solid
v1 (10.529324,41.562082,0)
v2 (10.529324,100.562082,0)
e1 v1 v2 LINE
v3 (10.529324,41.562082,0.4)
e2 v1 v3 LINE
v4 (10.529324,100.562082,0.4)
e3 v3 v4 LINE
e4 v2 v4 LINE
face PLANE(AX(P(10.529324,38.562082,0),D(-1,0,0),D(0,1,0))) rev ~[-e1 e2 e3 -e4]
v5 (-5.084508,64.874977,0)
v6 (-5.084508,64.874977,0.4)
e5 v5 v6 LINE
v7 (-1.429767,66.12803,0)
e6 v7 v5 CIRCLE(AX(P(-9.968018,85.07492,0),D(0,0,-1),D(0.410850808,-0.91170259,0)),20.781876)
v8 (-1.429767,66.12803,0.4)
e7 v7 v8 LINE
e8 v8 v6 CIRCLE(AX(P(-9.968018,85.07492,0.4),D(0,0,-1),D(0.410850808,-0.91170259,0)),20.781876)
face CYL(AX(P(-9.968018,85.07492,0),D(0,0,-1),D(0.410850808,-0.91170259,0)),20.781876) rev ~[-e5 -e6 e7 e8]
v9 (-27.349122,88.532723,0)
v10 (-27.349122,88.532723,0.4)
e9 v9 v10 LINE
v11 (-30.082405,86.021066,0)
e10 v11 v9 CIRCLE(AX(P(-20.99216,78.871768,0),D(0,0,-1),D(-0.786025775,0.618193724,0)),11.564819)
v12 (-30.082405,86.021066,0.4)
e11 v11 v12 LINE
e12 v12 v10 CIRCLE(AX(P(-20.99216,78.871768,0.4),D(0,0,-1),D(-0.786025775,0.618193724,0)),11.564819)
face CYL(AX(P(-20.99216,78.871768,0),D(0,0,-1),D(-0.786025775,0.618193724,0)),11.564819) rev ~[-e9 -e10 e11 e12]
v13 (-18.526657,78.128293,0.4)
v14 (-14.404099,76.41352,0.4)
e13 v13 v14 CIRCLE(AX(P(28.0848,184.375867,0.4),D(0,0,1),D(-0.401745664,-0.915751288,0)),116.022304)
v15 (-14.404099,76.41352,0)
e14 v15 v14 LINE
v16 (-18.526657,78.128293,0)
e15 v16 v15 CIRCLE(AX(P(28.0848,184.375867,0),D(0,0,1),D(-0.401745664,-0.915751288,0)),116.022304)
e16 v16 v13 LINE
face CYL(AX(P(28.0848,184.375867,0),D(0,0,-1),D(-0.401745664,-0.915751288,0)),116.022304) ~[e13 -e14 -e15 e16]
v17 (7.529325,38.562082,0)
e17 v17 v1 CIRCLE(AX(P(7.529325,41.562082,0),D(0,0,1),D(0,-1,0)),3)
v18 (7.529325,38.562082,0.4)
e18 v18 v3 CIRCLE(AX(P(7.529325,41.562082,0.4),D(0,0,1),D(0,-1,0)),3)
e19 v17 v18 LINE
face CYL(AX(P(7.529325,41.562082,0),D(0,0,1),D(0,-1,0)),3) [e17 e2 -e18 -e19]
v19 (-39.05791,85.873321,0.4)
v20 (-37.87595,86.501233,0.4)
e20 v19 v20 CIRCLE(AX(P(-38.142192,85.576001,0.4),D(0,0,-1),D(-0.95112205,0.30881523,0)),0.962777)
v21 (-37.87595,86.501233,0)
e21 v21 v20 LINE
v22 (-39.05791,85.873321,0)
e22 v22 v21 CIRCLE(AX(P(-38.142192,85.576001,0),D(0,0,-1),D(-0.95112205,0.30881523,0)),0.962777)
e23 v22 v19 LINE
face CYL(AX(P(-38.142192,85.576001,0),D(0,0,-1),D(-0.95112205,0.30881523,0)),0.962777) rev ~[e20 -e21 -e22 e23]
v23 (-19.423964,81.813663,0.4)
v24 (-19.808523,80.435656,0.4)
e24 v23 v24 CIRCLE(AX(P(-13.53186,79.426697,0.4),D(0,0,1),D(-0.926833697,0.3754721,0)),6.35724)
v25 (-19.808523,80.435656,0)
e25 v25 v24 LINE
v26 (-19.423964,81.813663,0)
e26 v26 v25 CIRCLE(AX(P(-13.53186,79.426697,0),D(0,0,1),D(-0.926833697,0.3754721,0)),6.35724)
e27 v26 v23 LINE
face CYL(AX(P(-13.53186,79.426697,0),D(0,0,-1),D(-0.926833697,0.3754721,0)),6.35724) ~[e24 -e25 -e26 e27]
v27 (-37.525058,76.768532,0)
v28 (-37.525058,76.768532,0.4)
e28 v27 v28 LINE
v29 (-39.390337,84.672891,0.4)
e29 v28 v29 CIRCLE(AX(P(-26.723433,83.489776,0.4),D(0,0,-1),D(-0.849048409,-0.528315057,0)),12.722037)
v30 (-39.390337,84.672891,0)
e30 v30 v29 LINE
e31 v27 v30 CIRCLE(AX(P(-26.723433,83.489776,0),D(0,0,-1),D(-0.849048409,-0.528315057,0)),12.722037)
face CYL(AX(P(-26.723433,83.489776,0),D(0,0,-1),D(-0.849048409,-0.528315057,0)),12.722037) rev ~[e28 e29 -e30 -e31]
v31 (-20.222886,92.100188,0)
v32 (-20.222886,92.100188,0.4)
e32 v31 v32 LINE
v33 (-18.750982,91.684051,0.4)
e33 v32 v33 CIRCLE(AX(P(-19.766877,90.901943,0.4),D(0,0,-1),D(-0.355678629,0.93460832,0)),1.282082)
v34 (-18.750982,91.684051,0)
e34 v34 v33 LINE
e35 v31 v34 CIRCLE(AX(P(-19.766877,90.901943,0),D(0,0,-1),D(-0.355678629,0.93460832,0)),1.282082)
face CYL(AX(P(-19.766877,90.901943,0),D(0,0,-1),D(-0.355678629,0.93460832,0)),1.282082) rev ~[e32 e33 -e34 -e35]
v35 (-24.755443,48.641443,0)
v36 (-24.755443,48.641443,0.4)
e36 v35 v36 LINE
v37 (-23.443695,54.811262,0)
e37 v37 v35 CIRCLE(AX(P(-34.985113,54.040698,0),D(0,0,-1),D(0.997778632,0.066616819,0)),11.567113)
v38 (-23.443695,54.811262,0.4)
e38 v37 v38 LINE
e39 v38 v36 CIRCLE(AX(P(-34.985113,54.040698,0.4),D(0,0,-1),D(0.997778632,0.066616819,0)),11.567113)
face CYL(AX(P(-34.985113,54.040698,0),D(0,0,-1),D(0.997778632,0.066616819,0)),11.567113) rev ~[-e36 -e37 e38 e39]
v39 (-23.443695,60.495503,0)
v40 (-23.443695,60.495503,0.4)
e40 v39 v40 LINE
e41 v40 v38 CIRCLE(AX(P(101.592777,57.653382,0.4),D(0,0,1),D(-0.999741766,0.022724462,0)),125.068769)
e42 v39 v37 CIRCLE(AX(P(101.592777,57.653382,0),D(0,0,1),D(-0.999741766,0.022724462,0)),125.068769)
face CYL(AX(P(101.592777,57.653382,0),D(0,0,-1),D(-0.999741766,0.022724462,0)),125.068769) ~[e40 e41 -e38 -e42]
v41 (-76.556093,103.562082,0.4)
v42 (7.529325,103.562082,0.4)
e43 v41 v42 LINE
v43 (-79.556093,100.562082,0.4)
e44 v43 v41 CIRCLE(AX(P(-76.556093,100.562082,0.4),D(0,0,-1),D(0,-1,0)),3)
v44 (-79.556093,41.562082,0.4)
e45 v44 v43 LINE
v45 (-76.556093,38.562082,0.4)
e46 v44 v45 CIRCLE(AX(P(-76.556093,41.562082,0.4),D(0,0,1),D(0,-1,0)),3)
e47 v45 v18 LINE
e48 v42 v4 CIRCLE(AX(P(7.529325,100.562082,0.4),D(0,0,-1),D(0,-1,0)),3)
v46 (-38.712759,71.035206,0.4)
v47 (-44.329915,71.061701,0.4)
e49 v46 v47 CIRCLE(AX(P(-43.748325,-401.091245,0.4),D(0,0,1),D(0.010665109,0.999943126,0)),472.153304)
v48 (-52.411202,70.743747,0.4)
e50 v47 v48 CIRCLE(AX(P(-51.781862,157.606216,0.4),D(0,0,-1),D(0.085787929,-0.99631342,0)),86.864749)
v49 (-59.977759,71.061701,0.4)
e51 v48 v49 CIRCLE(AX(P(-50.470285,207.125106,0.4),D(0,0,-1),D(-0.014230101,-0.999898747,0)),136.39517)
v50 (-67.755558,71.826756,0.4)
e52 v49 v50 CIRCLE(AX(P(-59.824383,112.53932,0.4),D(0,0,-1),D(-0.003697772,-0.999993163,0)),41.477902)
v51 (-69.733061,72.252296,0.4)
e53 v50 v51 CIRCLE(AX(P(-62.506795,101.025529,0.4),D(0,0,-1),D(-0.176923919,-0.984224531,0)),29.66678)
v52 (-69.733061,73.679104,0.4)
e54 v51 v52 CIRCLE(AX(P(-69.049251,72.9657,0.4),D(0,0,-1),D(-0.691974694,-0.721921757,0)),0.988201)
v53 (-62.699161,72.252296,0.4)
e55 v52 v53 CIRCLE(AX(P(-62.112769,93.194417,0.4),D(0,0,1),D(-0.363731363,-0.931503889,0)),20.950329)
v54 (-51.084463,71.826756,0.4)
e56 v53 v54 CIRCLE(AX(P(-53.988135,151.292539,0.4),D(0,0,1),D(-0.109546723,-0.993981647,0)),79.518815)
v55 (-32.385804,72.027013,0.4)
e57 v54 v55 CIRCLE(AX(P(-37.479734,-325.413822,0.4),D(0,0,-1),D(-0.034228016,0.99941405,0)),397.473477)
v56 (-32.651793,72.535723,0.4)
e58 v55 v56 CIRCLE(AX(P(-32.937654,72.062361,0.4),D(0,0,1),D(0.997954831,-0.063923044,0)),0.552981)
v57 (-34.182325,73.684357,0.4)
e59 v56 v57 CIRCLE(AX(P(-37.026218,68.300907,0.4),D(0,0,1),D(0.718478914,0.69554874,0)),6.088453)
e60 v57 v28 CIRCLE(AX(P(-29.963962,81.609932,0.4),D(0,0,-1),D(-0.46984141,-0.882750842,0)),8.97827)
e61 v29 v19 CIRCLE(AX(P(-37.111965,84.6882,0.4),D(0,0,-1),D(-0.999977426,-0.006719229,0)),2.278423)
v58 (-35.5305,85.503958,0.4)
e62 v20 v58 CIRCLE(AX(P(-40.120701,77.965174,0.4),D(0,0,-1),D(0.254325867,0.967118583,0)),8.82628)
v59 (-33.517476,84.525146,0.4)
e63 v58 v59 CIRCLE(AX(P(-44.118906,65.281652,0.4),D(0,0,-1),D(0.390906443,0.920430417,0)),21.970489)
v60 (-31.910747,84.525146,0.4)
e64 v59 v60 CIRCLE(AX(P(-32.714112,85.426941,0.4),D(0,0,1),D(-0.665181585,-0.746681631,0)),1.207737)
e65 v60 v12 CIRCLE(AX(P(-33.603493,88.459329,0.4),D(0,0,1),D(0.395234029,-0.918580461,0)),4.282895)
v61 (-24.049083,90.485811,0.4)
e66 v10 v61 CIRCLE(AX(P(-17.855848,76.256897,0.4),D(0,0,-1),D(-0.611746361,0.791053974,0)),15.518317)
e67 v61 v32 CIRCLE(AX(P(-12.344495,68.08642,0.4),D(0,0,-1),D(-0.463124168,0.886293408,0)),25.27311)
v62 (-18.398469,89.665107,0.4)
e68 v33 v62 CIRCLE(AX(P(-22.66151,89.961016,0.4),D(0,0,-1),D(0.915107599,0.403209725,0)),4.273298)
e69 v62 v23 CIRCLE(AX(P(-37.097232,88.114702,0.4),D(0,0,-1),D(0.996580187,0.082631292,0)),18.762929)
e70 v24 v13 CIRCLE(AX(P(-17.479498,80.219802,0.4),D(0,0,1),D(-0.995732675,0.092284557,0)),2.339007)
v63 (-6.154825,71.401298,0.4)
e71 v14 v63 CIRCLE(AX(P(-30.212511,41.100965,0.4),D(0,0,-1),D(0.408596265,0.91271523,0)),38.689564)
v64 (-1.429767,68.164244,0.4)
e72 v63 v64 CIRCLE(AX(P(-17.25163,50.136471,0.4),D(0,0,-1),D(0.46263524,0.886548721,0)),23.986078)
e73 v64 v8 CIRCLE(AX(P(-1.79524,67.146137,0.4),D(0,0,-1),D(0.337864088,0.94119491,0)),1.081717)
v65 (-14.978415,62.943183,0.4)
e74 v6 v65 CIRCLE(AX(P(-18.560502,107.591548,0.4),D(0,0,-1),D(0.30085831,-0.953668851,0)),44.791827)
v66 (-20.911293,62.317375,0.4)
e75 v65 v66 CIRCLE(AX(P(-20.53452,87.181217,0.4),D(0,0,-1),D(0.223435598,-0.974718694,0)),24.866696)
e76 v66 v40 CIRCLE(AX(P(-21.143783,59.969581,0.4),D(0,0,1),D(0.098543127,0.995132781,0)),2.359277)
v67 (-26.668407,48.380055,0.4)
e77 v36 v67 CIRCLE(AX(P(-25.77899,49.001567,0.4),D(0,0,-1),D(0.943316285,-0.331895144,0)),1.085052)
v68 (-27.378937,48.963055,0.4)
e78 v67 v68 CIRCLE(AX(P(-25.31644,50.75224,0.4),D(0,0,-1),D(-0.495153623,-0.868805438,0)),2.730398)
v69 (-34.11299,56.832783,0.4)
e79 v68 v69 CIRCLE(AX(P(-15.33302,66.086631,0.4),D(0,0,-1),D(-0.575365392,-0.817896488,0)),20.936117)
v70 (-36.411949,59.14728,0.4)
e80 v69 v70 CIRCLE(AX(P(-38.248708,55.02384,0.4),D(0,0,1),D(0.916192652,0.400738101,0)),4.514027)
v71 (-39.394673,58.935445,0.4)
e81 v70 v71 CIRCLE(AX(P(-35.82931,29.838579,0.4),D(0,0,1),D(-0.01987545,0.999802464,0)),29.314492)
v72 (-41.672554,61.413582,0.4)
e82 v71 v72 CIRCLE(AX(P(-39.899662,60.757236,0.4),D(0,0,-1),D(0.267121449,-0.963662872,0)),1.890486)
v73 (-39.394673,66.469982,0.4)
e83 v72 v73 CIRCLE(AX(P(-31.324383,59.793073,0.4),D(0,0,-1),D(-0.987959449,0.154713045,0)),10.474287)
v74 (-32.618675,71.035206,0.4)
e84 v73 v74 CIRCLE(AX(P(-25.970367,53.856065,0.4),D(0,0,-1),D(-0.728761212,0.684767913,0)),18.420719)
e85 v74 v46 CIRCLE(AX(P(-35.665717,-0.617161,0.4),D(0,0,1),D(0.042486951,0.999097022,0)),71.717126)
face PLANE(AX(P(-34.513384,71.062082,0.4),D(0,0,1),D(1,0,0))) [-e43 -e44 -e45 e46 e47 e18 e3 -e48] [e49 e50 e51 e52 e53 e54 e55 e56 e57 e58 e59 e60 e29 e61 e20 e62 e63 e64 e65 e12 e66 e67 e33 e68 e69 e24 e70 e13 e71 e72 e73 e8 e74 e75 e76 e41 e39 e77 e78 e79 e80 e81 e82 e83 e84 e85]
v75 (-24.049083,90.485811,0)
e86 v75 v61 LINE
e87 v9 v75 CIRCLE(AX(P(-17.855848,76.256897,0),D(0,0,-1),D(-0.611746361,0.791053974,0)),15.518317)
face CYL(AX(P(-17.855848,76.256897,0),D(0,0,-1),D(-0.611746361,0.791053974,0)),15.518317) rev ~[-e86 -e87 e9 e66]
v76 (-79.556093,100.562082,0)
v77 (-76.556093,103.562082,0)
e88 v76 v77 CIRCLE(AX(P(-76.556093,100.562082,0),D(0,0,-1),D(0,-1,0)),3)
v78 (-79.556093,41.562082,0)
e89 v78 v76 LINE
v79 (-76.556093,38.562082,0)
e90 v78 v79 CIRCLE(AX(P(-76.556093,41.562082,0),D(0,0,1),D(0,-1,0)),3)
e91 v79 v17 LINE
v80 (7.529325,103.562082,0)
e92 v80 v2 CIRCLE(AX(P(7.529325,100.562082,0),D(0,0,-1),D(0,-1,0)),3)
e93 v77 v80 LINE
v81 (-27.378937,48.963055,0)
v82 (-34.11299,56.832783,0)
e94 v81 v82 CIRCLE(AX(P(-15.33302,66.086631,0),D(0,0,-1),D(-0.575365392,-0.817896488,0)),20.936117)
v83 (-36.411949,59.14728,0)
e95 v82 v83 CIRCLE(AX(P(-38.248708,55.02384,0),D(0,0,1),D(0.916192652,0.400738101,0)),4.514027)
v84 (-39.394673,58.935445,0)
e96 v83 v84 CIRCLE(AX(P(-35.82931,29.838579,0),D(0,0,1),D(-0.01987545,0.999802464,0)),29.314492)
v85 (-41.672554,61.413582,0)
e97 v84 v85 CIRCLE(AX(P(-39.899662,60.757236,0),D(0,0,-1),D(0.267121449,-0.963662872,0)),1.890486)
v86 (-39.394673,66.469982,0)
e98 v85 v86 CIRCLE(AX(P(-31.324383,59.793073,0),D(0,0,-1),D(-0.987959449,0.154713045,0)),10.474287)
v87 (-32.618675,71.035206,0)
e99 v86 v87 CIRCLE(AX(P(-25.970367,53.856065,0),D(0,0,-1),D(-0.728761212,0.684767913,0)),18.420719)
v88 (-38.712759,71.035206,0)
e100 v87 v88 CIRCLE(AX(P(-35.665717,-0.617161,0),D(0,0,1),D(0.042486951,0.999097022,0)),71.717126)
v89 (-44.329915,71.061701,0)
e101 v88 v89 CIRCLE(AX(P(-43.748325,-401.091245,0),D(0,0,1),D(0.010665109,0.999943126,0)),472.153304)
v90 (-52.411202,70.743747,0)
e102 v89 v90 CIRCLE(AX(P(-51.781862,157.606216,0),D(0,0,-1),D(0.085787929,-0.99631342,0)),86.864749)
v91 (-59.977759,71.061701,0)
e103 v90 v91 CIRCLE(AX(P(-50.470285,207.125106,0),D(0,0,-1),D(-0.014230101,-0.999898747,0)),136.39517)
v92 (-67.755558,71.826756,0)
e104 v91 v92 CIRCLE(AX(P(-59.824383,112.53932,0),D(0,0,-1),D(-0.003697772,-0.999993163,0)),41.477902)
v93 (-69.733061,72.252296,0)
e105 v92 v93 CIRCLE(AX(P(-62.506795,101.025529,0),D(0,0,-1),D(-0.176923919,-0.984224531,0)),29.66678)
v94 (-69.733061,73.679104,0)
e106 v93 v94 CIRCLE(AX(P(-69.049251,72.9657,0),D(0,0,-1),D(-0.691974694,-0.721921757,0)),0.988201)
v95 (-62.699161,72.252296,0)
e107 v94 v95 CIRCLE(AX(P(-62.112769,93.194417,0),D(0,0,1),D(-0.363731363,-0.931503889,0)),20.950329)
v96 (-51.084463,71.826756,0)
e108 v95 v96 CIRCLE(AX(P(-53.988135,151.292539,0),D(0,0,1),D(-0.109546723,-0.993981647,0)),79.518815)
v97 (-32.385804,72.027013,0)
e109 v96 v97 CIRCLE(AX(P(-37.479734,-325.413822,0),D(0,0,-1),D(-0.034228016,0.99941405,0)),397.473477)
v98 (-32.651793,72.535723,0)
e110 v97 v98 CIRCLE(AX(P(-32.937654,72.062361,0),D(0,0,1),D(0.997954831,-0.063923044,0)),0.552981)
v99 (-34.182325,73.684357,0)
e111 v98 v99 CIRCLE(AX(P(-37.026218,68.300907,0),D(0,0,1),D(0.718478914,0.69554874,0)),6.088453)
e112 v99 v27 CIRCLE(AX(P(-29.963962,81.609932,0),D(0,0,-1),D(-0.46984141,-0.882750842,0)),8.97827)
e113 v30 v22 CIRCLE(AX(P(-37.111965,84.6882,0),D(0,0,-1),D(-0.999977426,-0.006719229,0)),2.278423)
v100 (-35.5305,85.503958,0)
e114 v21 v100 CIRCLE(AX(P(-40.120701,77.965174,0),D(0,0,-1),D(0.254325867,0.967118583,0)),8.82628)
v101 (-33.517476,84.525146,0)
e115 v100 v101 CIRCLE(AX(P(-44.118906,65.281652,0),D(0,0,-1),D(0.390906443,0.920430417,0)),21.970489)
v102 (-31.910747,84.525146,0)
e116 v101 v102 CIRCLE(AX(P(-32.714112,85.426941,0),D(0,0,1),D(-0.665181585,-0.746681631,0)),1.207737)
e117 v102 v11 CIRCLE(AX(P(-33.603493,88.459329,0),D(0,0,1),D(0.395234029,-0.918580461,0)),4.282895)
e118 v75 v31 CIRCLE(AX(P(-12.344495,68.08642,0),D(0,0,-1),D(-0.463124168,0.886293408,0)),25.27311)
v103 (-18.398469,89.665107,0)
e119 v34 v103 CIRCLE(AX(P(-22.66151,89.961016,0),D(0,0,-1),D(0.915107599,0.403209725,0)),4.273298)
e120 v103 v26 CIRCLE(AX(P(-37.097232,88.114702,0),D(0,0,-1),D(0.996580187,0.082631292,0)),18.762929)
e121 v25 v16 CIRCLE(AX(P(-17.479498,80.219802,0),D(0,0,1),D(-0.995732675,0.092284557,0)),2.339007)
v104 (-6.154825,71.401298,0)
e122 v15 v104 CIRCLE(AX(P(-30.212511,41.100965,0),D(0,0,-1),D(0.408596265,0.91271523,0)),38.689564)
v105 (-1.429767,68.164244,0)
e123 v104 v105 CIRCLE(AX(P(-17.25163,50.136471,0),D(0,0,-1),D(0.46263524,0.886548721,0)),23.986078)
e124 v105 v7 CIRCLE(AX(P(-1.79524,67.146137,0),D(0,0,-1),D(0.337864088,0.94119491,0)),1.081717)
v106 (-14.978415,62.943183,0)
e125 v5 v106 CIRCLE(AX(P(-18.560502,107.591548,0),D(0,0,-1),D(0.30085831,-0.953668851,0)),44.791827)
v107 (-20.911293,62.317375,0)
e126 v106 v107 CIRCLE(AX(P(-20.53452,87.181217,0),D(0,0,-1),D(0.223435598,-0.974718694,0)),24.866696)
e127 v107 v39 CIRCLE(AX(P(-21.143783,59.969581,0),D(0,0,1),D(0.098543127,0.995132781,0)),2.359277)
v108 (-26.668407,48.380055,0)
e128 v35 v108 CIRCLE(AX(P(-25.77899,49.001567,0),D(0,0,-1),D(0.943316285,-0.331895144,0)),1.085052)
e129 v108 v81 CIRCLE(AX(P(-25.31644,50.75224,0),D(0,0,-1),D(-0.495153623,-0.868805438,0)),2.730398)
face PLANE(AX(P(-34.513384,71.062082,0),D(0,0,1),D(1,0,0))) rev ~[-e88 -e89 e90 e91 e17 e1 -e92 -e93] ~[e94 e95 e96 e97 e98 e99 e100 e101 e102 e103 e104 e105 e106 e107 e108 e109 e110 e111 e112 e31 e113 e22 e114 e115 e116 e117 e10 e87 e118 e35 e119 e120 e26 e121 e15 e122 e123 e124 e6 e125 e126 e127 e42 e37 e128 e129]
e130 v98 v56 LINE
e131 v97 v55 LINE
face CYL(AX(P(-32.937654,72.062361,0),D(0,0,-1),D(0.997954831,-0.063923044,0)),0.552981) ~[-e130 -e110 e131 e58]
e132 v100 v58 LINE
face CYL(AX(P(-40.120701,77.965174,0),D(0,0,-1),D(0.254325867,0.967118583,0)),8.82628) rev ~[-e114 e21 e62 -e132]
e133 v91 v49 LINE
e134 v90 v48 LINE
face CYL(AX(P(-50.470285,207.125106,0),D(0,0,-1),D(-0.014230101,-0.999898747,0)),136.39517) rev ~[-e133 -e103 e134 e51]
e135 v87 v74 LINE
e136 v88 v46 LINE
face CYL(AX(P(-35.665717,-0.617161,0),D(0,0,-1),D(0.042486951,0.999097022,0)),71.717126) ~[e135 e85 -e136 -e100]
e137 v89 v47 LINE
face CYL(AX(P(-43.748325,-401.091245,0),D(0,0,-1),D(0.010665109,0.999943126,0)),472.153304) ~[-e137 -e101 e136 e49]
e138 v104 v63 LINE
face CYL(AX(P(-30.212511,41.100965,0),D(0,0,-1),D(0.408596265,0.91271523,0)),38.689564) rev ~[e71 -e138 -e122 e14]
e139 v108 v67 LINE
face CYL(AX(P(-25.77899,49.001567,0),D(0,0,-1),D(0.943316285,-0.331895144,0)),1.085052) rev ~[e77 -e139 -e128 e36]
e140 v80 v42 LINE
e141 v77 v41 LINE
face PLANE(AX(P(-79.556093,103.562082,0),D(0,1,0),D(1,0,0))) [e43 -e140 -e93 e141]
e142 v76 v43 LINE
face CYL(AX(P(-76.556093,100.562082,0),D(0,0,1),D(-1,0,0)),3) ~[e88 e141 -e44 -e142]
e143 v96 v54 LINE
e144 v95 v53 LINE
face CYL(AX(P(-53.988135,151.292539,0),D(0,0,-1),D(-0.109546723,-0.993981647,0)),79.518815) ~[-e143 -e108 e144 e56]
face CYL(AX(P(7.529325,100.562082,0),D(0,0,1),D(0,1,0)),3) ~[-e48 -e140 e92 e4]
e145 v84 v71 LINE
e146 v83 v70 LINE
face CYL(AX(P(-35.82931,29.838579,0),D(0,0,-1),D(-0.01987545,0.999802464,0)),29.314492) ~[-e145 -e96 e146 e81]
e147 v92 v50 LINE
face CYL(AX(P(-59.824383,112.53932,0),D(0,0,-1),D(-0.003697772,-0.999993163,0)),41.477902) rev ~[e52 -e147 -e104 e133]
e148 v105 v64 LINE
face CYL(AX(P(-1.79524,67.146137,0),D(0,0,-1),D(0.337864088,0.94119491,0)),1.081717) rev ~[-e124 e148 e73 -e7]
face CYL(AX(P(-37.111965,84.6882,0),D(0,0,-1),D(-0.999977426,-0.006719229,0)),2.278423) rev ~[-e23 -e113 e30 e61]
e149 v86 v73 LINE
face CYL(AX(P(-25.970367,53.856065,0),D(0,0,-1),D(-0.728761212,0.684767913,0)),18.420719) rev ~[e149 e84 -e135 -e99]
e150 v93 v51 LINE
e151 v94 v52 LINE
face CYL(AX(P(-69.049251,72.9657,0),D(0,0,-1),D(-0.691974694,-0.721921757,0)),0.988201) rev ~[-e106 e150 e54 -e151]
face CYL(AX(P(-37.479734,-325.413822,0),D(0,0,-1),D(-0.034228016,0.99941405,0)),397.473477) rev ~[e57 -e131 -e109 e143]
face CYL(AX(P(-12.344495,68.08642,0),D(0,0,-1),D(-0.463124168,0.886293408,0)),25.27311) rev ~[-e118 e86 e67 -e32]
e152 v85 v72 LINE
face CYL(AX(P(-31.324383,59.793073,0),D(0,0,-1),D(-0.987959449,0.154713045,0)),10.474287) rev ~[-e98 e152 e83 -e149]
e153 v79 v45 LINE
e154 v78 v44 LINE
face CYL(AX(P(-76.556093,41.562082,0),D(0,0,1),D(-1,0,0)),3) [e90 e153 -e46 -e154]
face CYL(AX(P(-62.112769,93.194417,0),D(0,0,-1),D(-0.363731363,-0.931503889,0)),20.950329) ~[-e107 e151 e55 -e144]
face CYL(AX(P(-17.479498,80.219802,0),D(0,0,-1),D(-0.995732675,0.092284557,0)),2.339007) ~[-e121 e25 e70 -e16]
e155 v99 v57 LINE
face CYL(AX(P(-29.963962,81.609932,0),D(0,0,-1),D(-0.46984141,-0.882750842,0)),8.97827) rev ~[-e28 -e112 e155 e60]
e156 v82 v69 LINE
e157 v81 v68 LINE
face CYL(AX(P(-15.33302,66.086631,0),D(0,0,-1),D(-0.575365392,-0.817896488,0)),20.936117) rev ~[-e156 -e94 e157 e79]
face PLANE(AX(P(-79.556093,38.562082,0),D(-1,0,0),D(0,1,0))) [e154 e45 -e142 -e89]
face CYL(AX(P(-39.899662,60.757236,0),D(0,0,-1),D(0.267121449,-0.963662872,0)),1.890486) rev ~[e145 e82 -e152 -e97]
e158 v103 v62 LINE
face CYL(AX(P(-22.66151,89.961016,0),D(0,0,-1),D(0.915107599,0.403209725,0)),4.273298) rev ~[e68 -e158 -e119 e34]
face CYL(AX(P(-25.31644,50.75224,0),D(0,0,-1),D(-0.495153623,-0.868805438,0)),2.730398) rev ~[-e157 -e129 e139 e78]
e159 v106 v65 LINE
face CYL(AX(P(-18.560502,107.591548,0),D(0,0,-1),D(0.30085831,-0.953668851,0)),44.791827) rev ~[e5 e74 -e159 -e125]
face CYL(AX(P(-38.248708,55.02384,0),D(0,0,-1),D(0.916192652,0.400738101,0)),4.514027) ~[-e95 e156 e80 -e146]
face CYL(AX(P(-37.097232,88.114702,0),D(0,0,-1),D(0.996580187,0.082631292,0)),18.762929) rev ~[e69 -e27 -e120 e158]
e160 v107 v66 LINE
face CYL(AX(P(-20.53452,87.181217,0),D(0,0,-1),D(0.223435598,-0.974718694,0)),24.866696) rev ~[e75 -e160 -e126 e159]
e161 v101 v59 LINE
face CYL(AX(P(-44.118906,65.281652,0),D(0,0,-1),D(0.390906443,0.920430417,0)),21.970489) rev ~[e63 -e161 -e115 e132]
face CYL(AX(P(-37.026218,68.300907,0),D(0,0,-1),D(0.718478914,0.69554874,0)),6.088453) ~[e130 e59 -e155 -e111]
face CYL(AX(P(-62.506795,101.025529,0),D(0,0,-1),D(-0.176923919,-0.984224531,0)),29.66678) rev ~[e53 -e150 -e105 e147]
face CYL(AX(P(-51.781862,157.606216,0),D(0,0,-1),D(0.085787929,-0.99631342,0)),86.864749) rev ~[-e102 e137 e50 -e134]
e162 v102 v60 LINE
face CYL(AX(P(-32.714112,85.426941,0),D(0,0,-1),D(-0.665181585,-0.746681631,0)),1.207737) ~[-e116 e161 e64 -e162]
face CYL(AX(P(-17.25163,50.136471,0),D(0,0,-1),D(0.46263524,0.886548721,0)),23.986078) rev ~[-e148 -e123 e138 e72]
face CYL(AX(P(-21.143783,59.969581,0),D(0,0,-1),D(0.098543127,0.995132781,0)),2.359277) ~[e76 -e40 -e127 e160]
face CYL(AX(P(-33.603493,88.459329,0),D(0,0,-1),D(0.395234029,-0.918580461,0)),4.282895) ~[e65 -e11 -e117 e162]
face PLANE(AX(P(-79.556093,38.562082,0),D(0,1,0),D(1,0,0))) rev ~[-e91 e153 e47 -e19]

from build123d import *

# Parameters (mm, degrees)
F0_W     = 90.085417
F0_H     = 65
F1_DEPTH = 0.4
F2_R     = 3


with BuildPart() as f1:
    # F0 (on Top) → F1 (new body)
    with BuildSketch(Plane.XY):
        with Locations((-34.513384, 71.062082)):
            Rectangle(F0_W, F0_H)
        with BuildLine():
            ThreePointArc((-69.733061, 72.252296), (-70.037452, 72.9657), (-69.733061, 73.679104))
            ThreePointArc((-69.733061, 73.679104), (-66.277666, 72.662249), (-62.699161, 72.252296))
            ThreePointArc((-62.699161, 72.252296), (-56.899597, 71.827041), (-51.084463, 71.826756))
            ThreePointArc((-51.084463, 71.826756), (-41.736311, 72.036863), (-32.385804, 72.027013))
            ThreePointArc((-32.385804, 72.027013), (-32.447617, 72.318587), (-32.651793, 72.535723))
            ThreePointArc((-32.651793, 72.535723), (-33.37165, 73.170547), (-34.182325, 73.684357))
            ThreePointArc((-34.182325, 73.684357), (-36.052225, 75.011267), (-37.525058, 76.768532))
            ThreePointArc((-37.525058, 76.768532), (-39.105383, 80.56787), (-39.390337, 84.672891))
            ThreePointArc((-39.390337, 84.672891), (-39.30775, 85.296264), (-39.05791, 85.873321))
            ThreePointArc((-39.05791, 85.873321), (-38.593882, 86.426245), (-37.87595, 86.501233))
            ThreePointArc((-37.87595, 86.501233), (-36.667039, 86.0877), (-35.5305, 85.503958))
            ThreePointArc((-35.5305, 85.503958), (-34.511515, 85.040205), (-33.517476, 84.525146))
            ThreePointArc((-33.517476, 84.525146), (-32.714112, 84.219204), (-31.910747, 84.525146))
            ThreePointArc((-31.910747, 84.525146), (-30.891398, 85.144555), (-30.082405, 86.021066))
            ThreePointArc((-30.082405, 86.021066), (-28.817194, 87.387275), (-27.349122, 88.532723))
            ThreePointArc((-27.349122, 88.532723), (-25.759662, 89.611592), (-24.049083, 90.485811))
            ThreePointArc((-24.049083, 90.485811), (-22.169199, 91.371722), (-20.222886, 92.100188))
            ThreePointArc((-20.222886, 92.100188), (-19.418078, 92.135667), (-18.750982, 91.684051))
            ThreePointArc((-18.750982, 91.684051), (-18.451897, 90.696025), (-18.398469, 89.665107))
            ThreePointArc((-18.398469, 89.665107), (-18.492328, 85.684673), (-19.423964, 81.813663))
            ThreePointArc((-19.423964, 81.813663), (-19.655131, 81.135512), (-19.808523, 80.435656))
            ThreePointArc((-19.808523, 80.435656), (-19.524158, 79.083881), (-18.526657, 78.128293))
            ThreePointArc((-18.526657, 78.128293), (-16.473627, 77.251073), (-14.404099, 76.41352))
            ThreePointArc((-14.404099, 76.41352), (-10.122537, 74.16568), (-6.154825, 71.401298))
            ThreePointArc((-6.154825, 71.401298), (-3.695329, 69.924312), (-1.429767, 68.164244))
            ThreePointArc((-1.429767, 68.164244), (-0.713523, 67.146137), (-1.429767, 66.12803))
            ThreePointArc((-1.429767, 66.12803), (-3.227955, 65.416387), (-5.084508, 64.874977))
            ThreePointArc((-5.084508, 64.874977), (-9.976943, 63.629856), (-14.978415, 62.943183))
            ThreePointArc((-14.978415, 62.943183), (-17.926019, 62.451714), (-20.911293, 62.317375))
            ThreePointArc((-20.911293, 62.317375), (-22.521594, 61.884738), (-23.443695, 60.495503))
            ThreePointArc((-23.443695, 60.495503), (-23.475992, 57.653382), (-23.443695, 54.811262))
            ThreePointArc((-23.443695, 54.811262), (-23.670886, 51.635211), (-24.755443, 48.641443))
            ThreePointArc((-24.755443, 48.641443), (-25.632093, 47.926504), (-26.668407, 48.380055))
            ThreePointArc((-26.668407, 48.380055), (-27.048379, 48.641443), (-27.378937, 48.963055))
            ThreePointArc((-27.378937, 48.963055), (-31.240313, 52.474908), (-34.11299, 56.832783))
            ThreePointArc((-34.11299, 56.832783), (-35.046077, 58.204971), (-36.411949, 59.14728))
            ThreePointArc((-36.411949, 59.14728), (-37.906014, 59.079419), (-39.394673, 58.935445))
            ThreePointArc((-39.394673, 58.935445), (-41.29149, 59.47788), (-41.672554, 61.413582))
            ThreePointArc((-41.672554, 61.413582), (-40.874342, 64.095279), (-39.394673, 66.469982))
            ThreePointArc((-39.394673, 66.469982), (-36.262975, 69.133012), (-32.618675, 71.035206))
            ThreePointArc((-32.618675, 71.035206), (-35.665717, 71.099965), (-38.712759, 71.035206))
            ThreePointArc((-38.712759, 71.035206), (-41.521297, 71.056807), (-44.329915, 71.061701))
            ThreePointArc((-44.329915, 71.061701), (-48.366856, 70.808622), (-52.411202, 70.743747))
            ThreePointArc((-52.411202, 70.743747), (-56.196688, 70.850198), (-59.977759, 71.061701))
            ThreePointArc((-59.977759, 71.061701), (-63.884718, 71.260632), (-67.755558, 71.826756))
            ThreePointArc((-67.755558, 71.826756), (-68.747937, 72.022667), (-69.733061, 72.252296))
        make_face(mode=Mode.SUBTRACT)
    extrude(amount=F1_DEPTH)

    # F2
    f2_edges = [f1.edges().sort_by_distance(p)[0] for p in [
        (-79.556093, 38.562082, 0.2),
        (-79.556093, 103.562082, 0.2),
        (10.529324, 38.562082, 0.2),
        (10.529324, 103.562082, 0.2),
    ]]
    fillet(f2_edges, radius=F2_R)


solid = f1.part
